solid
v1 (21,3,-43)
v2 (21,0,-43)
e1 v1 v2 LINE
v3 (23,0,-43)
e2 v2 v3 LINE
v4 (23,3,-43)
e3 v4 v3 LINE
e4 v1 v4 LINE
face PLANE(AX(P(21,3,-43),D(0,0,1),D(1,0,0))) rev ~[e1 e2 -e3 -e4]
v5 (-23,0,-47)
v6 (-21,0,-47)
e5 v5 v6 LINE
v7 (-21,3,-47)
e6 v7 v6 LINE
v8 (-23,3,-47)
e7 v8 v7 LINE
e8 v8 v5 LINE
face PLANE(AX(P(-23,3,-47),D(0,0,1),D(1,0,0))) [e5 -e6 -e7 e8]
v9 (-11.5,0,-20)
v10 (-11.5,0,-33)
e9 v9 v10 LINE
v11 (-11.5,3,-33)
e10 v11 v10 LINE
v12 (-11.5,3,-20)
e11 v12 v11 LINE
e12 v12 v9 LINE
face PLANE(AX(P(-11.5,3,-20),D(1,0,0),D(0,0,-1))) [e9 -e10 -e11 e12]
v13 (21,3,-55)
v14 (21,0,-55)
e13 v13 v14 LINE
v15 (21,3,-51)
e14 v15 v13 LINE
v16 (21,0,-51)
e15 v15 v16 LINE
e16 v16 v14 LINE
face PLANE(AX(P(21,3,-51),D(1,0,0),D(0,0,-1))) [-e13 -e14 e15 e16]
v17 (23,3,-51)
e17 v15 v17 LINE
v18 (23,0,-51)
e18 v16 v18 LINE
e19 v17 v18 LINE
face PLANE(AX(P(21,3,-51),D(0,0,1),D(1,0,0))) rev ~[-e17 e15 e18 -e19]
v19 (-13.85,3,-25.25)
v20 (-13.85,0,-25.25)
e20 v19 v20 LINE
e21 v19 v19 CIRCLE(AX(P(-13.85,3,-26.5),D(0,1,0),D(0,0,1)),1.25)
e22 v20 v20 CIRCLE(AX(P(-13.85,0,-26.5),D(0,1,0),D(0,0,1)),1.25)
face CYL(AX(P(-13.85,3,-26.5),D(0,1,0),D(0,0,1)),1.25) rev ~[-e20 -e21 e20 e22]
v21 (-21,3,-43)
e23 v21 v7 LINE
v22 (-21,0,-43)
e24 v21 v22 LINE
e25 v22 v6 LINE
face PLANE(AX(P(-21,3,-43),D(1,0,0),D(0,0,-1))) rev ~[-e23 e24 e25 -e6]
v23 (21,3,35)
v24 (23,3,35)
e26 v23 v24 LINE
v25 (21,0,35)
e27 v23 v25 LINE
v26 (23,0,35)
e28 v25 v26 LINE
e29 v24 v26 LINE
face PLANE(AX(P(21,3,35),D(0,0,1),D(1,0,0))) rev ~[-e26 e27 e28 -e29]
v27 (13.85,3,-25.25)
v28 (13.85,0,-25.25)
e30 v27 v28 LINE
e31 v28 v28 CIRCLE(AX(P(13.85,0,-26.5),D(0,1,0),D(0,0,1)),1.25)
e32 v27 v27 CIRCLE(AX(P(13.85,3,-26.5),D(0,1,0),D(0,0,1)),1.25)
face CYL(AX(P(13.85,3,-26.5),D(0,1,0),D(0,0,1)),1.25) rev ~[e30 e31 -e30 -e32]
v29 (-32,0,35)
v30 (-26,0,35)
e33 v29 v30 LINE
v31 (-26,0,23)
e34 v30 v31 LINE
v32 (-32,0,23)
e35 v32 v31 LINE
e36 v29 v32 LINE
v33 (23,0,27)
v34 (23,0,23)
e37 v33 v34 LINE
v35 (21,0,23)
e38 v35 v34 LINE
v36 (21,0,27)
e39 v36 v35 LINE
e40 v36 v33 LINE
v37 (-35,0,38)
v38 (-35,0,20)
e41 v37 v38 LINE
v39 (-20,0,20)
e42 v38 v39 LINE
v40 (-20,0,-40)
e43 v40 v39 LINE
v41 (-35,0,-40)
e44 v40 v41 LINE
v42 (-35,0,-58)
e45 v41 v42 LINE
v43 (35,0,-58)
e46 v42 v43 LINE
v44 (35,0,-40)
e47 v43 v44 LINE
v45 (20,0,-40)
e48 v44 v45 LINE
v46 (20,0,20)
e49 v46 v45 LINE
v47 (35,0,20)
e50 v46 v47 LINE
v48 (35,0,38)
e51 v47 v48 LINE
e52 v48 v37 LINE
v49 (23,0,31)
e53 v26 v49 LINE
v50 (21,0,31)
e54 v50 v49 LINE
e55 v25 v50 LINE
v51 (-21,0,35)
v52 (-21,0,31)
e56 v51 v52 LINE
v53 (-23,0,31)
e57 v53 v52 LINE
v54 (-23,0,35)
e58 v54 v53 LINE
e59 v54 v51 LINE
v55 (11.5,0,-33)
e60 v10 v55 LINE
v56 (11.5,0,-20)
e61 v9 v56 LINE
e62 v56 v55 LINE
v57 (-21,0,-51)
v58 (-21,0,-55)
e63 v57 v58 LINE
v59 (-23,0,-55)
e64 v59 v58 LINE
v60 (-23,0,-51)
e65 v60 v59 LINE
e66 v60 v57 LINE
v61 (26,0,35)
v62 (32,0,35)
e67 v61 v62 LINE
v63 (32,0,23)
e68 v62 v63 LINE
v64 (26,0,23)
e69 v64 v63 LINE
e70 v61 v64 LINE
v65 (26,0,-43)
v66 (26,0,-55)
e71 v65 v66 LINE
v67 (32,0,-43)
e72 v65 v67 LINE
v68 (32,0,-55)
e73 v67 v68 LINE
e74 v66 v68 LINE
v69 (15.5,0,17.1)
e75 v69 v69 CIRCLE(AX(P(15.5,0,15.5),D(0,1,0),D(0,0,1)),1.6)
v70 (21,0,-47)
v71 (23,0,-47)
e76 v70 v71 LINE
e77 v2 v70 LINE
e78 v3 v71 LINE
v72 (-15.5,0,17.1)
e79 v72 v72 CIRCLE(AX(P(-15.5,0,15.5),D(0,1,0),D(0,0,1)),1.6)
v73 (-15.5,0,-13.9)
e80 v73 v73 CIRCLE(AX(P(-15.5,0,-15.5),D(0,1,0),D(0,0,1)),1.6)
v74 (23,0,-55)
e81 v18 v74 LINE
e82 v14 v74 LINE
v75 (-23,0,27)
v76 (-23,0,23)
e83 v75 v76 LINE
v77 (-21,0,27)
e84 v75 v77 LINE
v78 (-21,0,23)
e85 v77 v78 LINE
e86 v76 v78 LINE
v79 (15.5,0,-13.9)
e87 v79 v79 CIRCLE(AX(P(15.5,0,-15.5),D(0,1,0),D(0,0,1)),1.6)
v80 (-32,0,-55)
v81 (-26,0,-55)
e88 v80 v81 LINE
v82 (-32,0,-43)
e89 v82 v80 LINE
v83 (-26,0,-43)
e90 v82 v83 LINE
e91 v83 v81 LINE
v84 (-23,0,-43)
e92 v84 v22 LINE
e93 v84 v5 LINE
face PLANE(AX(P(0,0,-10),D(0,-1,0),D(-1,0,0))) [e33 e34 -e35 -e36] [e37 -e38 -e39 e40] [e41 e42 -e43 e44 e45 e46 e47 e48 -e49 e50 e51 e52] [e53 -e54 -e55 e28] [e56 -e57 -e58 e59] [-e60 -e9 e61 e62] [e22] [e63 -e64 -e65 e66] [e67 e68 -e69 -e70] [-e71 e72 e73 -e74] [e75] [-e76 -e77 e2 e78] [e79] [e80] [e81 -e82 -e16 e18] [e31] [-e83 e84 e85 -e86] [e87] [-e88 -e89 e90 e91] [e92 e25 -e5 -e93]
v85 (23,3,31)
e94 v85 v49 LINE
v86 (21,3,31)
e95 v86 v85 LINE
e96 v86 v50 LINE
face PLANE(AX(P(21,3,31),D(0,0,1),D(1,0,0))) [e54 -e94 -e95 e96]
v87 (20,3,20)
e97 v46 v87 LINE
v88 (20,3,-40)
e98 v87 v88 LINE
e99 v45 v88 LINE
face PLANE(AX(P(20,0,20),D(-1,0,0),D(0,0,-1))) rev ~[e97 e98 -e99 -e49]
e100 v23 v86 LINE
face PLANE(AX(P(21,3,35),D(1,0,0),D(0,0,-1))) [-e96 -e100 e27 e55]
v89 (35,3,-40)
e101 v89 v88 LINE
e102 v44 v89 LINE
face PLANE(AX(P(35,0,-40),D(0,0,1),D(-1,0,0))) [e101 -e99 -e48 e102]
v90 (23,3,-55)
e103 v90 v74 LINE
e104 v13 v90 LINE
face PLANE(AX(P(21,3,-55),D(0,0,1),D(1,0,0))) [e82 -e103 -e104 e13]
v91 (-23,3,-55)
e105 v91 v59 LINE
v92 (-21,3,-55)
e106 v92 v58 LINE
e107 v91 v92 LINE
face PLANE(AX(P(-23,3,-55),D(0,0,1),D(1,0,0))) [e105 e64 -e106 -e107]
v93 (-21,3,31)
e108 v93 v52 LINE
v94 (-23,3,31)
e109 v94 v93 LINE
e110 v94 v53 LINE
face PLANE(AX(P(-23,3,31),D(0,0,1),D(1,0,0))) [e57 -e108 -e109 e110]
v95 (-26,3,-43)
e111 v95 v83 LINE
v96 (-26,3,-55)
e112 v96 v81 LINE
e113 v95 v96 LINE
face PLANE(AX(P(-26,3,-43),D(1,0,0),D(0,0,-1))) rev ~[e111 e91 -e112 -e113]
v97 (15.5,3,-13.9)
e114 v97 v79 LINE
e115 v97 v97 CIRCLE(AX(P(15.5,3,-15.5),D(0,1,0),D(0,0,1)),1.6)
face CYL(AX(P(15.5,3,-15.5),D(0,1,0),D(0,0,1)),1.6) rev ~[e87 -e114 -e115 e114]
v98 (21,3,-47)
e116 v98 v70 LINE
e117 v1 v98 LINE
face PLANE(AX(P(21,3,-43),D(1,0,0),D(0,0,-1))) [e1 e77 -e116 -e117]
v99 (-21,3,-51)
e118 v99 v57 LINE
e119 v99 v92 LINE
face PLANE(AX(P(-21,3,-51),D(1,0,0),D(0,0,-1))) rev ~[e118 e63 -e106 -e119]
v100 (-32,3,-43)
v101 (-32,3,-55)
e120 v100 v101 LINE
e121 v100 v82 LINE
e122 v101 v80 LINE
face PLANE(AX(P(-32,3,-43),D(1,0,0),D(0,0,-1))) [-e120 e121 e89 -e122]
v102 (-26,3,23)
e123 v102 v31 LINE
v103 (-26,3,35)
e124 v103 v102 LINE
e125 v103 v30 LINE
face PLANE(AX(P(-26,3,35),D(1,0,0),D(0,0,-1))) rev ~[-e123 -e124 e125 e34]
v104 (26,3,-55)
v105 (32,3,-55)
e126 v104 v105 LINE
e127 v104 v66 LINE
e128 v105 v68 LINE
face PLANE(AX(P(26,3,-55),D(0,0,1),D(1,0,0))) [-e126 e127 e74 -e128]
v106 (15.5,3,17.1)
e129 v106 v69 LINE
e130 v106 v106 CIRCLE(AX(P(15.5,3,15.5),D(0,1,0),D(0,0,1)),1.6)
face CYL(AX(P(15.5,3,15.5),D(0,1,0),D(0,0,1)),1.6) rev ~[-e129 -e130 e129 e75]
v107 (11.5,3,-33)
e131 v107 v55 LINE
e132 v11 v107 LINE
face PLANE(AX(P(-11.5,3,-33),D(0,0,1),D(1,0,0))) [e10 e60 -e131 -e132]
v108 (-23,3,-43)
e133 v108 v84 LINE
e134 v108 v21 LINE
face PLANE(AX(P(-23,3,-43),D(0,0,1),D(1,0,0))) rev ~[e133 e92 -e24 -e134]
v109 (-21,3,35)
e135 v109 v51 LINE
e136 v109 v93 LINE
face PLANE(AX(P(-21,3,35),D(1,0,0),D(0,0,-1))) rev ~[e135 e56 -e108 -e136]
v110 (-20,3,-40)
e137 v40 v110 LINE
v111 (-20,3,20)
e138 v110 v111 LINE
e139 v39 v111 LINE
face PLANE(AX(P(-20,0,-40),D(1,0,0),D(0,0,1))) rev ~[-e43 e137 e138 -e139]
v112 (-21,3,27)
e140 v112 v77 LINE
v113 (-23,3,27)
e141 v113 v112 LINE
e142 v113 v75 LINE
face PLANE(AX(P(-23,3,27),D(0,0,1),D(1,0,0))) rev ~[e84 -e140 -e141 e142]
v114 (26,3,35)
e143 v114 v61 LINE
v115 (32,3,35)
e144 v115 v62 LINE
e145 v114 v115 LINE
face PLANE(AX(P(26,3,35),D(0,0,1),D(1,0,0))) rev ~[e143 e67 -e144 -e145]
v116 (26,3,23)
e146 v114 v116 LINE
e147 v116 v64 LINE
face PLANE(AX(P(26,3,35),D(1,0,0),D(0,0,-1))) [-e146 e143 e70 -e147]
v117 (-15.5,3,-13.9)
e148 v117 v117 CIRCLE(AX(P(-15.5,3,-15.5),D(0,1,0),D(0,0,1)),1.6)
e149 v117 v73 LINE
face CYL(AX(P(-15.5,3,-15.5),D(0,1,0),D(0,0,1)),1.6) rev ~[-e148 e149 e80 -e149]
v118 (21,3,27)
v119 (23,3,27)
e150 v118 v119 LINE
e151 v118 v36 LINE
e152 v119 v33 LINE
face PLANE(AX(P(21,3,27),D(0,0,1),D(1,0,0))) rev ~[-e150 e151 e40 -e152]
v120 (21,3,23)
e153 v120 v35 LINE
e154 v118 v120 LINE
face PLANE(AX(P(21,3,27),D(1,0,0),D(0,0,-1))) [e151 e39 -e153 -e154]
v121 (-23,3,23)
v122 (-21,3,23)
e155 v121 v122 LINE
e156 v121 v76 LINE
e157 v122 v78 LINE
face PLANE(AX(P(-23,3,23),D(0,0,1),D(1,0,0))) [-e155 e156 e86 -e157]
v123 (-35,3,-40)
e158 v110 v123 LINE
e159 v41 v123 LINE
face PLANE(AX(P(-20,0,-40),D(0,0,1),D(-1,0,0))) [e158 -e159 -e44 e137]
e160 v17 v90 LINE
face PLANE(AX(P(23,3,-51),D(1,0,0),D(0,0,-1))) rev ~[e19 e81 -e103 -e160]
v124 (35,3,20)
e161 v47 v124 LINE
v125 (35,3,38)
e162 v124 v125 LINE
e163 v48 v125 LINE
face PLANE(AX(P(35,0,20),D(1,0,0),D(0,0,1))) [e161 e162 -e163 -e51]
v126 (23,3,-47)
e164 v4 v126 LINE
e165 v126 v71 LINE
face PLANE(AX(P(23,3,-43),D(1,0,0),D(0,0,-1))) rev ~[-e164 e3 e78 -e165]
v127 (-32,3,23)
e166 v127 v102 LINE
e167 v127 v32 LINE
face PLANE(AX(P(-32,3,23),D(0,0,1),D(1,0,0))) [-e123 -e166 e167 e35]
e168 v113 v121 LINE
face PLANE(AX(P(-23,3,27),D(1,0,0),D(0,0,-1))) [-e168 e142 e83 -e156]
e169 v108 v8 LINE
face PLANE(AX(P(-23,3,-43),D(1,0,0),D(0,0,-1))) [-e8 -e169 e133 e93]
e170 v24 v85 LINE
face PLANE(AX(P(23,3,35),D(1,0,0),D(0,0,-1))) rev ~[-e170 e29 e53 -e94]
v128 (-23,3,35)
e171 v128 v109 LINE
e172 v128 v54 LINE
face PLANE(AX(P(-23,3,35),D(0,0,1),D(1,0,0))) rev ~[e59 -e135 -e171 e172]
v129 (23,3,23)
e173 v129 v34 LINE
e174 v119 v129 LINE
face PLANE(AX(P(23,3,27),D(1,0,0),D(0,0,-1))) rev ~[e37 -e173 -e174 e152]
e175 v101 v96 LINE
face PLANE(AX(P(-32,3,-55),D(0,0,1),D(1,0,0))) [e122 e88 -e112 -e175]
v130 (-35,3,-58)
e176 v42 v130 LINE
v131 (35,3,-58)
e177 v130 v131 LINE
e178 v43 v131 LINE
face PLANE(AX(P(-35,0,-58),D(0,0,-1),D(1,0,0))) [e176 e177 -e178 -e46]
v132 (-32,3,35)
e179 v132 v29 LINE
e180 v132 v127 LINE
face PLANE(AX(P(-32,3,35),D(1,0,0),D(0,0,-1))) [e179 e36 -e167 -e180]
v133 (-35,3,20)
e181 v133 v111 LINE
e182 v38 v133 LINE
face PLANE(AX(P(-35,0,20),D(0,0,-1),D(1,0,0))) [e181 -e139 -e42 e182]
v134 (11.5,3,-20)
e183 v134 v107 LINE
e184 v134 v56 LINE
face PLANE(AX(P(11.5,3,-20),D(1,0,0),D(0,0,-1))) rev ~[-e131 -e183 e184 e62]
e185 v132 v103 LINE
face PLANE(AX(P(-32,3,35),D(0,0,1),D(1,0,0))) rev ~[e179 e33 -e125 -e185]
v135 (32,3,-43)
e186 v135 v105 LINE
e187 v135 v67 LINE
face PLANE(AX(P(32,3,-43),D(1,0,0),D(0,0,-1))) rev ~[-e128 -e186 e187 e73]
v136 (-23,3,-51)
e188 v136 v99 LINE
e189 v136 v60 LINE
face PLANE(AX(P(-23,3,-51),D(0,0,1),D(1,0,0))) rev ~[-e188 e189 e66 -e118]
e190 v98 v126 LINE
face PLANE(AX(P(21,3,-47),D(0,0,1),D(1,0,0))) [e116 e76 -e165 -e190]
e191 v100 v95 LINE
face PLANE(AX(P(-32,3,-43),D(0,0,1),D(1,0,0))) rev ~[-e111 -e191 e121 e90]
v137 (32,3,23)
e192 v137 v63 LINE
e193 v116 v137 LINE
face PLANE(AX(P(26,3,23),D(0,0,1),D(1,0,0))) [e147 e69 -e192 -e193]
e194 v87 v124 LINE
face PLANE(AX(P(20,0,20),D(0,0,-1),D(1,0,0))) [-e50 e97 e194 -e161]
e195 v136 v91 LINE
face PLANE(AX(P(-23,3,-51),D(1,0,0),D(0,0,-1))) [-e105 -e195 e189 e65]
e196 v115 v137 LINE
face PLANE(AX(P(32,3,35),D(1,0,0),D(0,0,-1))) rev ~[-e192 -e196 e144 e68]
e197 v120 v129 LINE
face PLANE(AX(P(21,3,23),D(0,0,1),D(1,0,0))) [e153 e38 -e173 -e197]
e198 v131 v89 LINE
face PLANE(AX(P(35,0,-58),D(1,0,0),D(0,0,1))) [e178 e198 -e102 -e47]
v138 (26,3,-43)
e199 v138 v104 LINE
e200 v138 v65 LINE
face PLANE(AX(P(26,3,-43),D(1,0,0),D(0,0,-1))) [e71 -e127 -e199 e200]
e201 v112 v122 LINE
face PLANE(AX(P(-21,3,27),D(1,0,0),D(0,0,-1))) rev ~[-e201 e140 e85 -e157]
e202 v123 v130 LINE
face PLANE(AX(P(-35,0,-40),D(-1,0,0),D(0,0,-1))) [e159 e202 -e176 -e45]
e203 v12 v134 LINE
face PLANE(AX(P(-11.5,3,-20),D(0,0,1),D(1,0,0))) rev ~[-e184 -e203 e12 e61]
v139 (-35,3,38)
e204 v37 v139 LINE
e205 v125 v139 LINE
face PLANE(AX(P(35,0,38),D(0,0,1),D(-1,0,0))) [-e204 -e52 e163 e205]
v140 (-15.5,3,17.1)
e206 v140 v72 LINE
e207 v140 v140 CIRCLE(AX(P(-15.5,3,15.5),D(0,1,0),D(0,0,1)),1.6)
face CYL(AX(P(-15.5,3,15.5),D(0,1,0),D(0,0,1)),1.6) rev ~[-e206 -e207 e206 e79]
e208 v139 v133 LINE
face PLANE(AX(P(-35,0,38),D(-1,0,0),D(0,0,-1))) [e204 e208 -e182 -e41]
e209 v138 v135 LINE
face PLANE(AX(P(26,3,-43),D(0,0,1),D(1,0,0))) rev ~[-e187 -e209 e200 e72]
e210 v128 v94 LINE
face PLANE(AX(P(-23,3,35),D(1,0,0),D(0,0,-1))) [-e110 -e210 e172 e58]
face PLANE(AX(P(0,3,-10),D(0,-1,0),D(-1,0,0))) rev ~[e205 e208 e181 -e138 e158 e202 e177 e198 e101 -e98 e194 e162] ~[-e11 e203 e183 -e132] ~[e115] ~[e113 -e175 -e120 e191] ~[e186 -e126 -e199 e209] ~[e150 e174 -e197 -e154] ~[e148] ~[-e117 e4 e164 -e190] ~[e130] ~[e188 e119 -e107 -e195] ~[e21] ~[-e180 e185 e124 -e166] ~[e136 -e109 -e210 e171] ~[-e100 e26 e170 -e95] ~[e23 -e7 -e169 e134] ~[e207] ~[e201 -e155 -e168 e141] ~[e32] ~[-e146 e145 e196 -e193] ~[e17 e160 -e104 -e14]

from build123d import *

# Parameters (mm, degrees)
EXTRUDE_1_DEPTH     = 3
CUT_EXTRUDE_1_REACH = 69.809
SKETCH_2_R          = 1.6
SKETCH_2_R_2        = 1.25
SKETCH_2_W          = 23
SKETCH_2_H          = 13
SKETCH_2_W_2        = 2
SKETCH_2_H_2        = 4
SKETCH_2_W_3        = 6
SKETCH_2_H_3        = 12


with BuildPart() as part:
    # 草图1 → 凸台-拉伸1 (new body)
    with BuildSketch(Plane(origin=(0, 0, 0), x_dir=(1, 0, 0), z_dir=(0, 1, 0))):
        Polygon((20, -20), (35, -20), (35, -38), (-35, -38), (-35, -20), (-20, -20), (-20, 20), (-20, 40), (-35, 40), (-35, 58), (35, 58), (35, 40), (20, 40), (20, 20), align=None)
    extrude(amount=EXTRUDE_1_DEPTH)

    # 草图2 → 切除-拉伸1 (cut, up to next)
    with BuildSketch(Plane(origin=(0, 3, 0), x_dir=(1, 0, 0), z_dir=(0, 1, 0)), mode=Mode.PRIVATE) as cut_extrude_1_sk1:
        with Locations(Location((-15.5, -15.5, 0), (0, 0, 270))):
            Circle(SKETCH_2_R)
    cut_extrude_1_tool1 = extrude(cut_extrude_1_sk1.sketch, amount=-CUT_EXTRUDE_1_REACH, mode=Mode.PRIVATE) & part.part
    # 草图2 → 切除-拉伸1 (cut, up to next)
    with BuildSketch(Plane(origin=(0, 3, 0), x_dir=(1, 0, 0), z_dir=(0, 1, 0)), mode=Mode.PRIVATE) as cut_extrude_1_sk2:
        with Locations(Location((-15.5, 15.5, 0), (0, 0, 270))):
            Circle(SKETCH_2_R)
    cut_extrude_1_tool2 = extrude(cut_extrude_1_sk2.sketch, amount=-CUT_EXTRUDE_1_REACH, mode=Mode.PRIVATE) & part.part
    # 草图2 → 切除-拉伸1 (cut, up to next)
    with BuildSketch(Plane(origin=(0, 3, 0), x_dir=(1, 0, 0), z_dir=(0, 1, 0)), mode=Mode.PRIVATE) as cut_extrude_1_sk3:
        with Locations(Location((15.5, -15.5, 0), (0, 0, 270))):
            Circle(SKETCH_2_R)
    cut_extrude_1_tool3 = extrude(cut_extrude_1_sk3.sketch, amount=-CUT_EXTRUDE_1_REACH, mode=Mode.PRIVATE) & part.part
    # 草图2 → 切除-拉伸1 (cut, up to next)
    with BuildSketch(Plane(origin=(0, 3, 0), x_dir=(1, 0, 0), z_dir=(0, 1, 0)), mode=Mode.PRIVATE) as cut_extrude_1_sk4:
        with Locations(Location((15.5, 15.5, 0), (0, 0, 270))):
            Circle(SKETCH_2_R)
    cut_extrude_1_tool4 = extrude(cut_extrude_1_sk4.sketch, amount=-CUT_EXTRUDE_1_REACH, mode=Mode.PRIVATE) & part.part
    # 草图2 → 切除-拉伸1 (cut, up to next)
    with BuildSketch(Plane(origin=(0, 3, 0), x_dir=(1, 0, 0), z_dir=(0, 1, 0)), mode=Mode.PRIVATE) as cut_extrude_1_sk5:
        with Locations(Location((-13.85, 26.5, 0), (0, 0, 270))):
            Circle(SKETCH_2_R_2)
    cut_extrude_1_tool5 = extrude(cut_extrude_1_sk5.sketch, amount=-CUT_EXTRUDE_1_REACH, mode=Mode.PRIVATE) & part.part
    # 草图2 → 切除-拉伸1 (cut, up to next)
    with BuildSketch(Plane(origin=(0, 3, 0), x_dir=(1, 0, 0), z_dir=(0, 1, 0)), mode=Mode.PRIVATE) as cut_extrude_1_sk6:
        with Locations(Location((13.85, 26.5, 0), (0, 0, 270))):
            Circle(SKETCH_2_R_2)
    cut_extrude_1_tool6 = extrude(cut_extrude_1_sk6.sketch, amount=-CUT_EXTRUDE_1_REACH, mode=Mode.PRIVATE) & part.part
    # 草图2 → 切除-拉伸1 (cut, up to next)
    with BuildSketch(Plane(origin=(0, 3, 0), x_dir=(1, 0, 0), z_dir=(0, 1, 0)), mode=Mode.PRIVATE) as cut_extrude_1_sk7:
        with Locations((0, 26.5)):
            Rectangle(SKETCH_2_W, SKETCH_2_H)
    cut_extrude_1_tool7 = extrude(cut_extrude_1_sk7.sketch, amount=-CUT_EXTRUDE_1_REACH, mode=Mode.PRIVATE) & part.part
    # 草图2 → 切除-拉伸1 (cut, up to next)
    with BuildSketch(Plane(origin=(0, 3, 0), x_dir=(1, 0, 0), z_dir=(0, 1, 0)), mode=Mode.PRIVATE) as cut_extrude_1_sk8:
        with Locations((-22, -33)):
            Rectangle(SKETCH_2_W_2, SKETCH_2_H_2)
    cut_extrude_1_tool8 = extrude(cut_extrude_1_sk8.sketch, amount=-CUT_EXTRUDE_1_REACH, mode=Mode.PRIVATE) & part.part
    # 草图2 → 切除-拉伸1 (cut, up to next)
    with BuildSketch(Plane(origin=(0, 3, 0), x_dir=(1, 0, 0), z_dir=(0, 1, 0)), mode=Mode.PRIVATE) as cut_extrude_1_sk9:
        with Locations((-29, -29)):
            Rectangle(SKETCH_2_W_3, SKETCH_2_H_3)
    cut_extrude_1_tool9 = extrude(cut_extrude_1_sk9.sketch, amount=-CUT_EXTRUDE_1_REACH, mode=Mode.PRIVATE) & part.part
    # 草图2 → 切除-拉伸1 (cut, up to next)
    with BuildSketch(Plane(origin=(0, 3, 0), x_dir=(1, 0, 0), z_dir=(0, 1, 0)), mode=Mode.PRIVATE) as cut_extrude_1_sk10:
        with Locations((-22, -25)):
            Rectangle(SKETCH_2_W_2, SKETCH_2_H_2)
    cut_extrude_1_tool10 = extrude(cut_extrude_1_sk10.sketch, amount=-CUT_EXTRUDE_1_REACH, mode=Mode.PRIVATE) & part.part
    # 草图2 → 切除-拉伸1 (cut, up to next)
    with BuildSketch(Plane(origin=(0, 3, 0), x_dir=(1, 0, 0), z_dir=(0, 1, 0)), mode=Mode.PRIVATE) as cut_extrude_1_sk11:
        with Locations((22, -33)):
            Rectangle(SKETCH_2_W_2, SKETCH_2_H_2)
    cut_extrude_1_tool11 = extrude(cut_extrude_1_sk11.sketch, amount=-CUT_EXTRUDE_1_REACH, mode=Mode.PRIVATE) & part.part
    # 草图2 → 切除-拉伸1 (cut, up to next)
    with BuildSketch(Plane(origin=(0, 3, 0), x_dir=(1, 0, 0), z_dir=(0, 1, 0)), mode=Mode.PRIVATE) as cut_extrude_1_sk12:
        with Locations((22, -25)):
            Rectangle(SKETCH_2_W_2, SKETCH_2_H_2)
    cut_extrude_1_tool12 = extrude(cut_extrude_1_sk12.sketch, amount=-CUT_EXTRUDE_1_REACH, mode=Mode.PRIVATE) & part.part
    # 草图2 → 切除-拉伸1 (cut, up to next)
    with BuildSketch(Plane(origin=(0, 3, 0), x_dir=(1, 0, 0), z_dir=(0, 1, 0)), mode=Mode.PRIVATE) as cut_extrude_1_sk13:
        with Locations((29, -29)):
            Rectangle(SKETCH_2_W_3, SKETCH_2_H_3)
    cut_extrude_1_tool13 = extrude(cut_extrude_1_sk13.sketch, amount=-CUT_EXTRUDE_1_REACH, mode=Mode.PRIVATE) & part.part
    # 草图2 → 切除-拉伸1 (cut, up to next)
    with BuildSketch(Plane(origin=(0, 3, 0), x_dir=(1, 0, 0), z_dir=(0, 1, 0)), mode=Mode.PRIVATE) as cut_extrude_1_sk14:
        with Locations((-22, 45)):
            Rectangle(SKETCH_2_W_2, SKETCH_2_H_2)
    cut_extrude_1_tool14 = extrude(cut_extrude_1_sk14.sketch, amount=-CUT_EXTRUDE_1_REACH, mode=Mode.PRIVATE) & part.part
    # 草图2 → 切除-拉伸1 (cut, up to next)
    with BuildSketch(Plane(origin=(0, 3, 0), x_dir=(1, 0, 0), z_dir=(0, 1, 0)), mode=Mode.PRIVATE) as cut_extrude_1_sk15:
        with Locations((-29, 49)):
            Rectangle(SKETCH_2_W_3, SKETCH_2_H_3)
    cut_extrude_1_tool15 = extrude(cut_extrude_1_sk15.sketch, amount=-CUT_EXTRUDE_1_REACH, mode=Mode.PRIVATE) & part.part
    # 草图2 → 切除-拉伸1 (cut, up to next)
    with BuildSketch(Plane(origin=(0, 3, 0), x_dir=(1, 0, 0), z_dir=(0, 1, 0)), mode=Mode.PRIVATE) as cut_extrude_1_sk16:
        with Locations((-22, 53)):
            Rectangle(SKETCH_2_W_2, SKETCH_2_H_2)
    cut_extrude_1_tool16 = extrude(cut_extrude_1_sk16.sketch, amount=-CUT_EXTRUDE_1_REACH, mode=Mode.PRIVATE) & part.part
    # 草图2 → 切除-拉伸1 (cut, up to next)
    with BuildSketch(Plane(origin=(0, 3, 0), x_dir=(1, 0, 0), z_dir=(0, 1, 0)), mode=Mode.PRIVATE) as cut_extrude_1_sk17:
        with Locations((22, 45)):
            Rectangle(SKETCH_2_W_2, SKETCH_2_H_2)
    cut_extrude_1_tool17 = extrude(cut_extrude_1_sk17.sketch, amount=-CUT_EXTRUDE_1_REACH, mode=Mode.PRIVATE) & part.part
    # 草图2 → 切除-拉伸1 (cut, up to next)
    with BuildSketch(Plane(origin=(0, 3, 0), x_dir=(1, 0, 0), z_dir=(0, 1, 0)), mode=Mode.PRIVATE) as cut_extrude_1_sk18:
        with Locations((22, 53)):
            Rectangle(SKETCH_2_W_2, SKETCH_2_H_2)
    cut_extrude_1_tool18 = extrude(cut_extrude_1_sk18.sketch, amount=-CUT_EXTRUDE_1_REACH, mode=Mode.PRIVATE) & part.part
    # 草图2 → 切除-拉伸1 (cut, up to next)
    with BuildSketch(Plane(origin=(0, 3, 0), x_dir=(1, 0, 0), z_dir=(0, 1, 0)), mode=Mode.PRIVATE) as cut_extrude_1_sk19:
        with Locations((29, 49)):
            Rectangle(SKETCH_2_W_3, SKETCH_2_H_3)
    cut_extrude_1_tool19 = extrude(cut_extrude_1_sk19.sketch, amount=-CUT_EXTRUDE_1_REACH, mode=Mode.PRIVATE) & part.part
    add(cut_extrude_1_tool1.solids().sort_by_distance((-15.5, 3, 15.5))[0], mode=Mode.SUBTRACT)
    add(cut_extrude_1_tool2.solids().sort_by_distance((-15.5, 3, -15.5))[0], mode=Mode.SUBTRACT)
    add(cut_extrude_1_tool3.solids().sort_by_distance((15.5, 3, 15.5))[0], mode=Mode.SUBTRACT)
    add(cut_extrude_1_tool4.solids().sort_by_distance((15.5, 3, -15.5))[0], mode=Mode.SUBTRACT)
    add(cut_extrude_1_tool5.solids().sort_by_distance((-13.85, 3, -26.5))[0], mode=Mode.SUBTRACT)
    add(cut_extrude_1_tool6.solids().sort_by_distance((13.85, 3, -26.5))[0], mode=Mode.SUBTRACT)
    add(cut_extrude_1_tool7.solids().sort_by_distance((0, 3, -26.5))[0], mode=Mode.SUBTRACT)
    add(cut_extrude_1_tool8.solids().sort_by_distance((-22, 3, 33))[0], mode=Mode.SUBTRACT)
    add(cut_extrude_1_tool9.solids().sort_by_distance((-29, 3, 29))[0], mode=Mode.SUBTRACT)
    add(cut_extrude_1_tool10.solids().sort_by_distance((-22, 3, 25))[0], mode=Mode.SUBTRACT)
    add(cut_extrude_1_tool11.solids().sort_by_distance((22, 3, 33))[0], mode=Mode.SUBTRACT)
    add(cut_extrude_1_tool12.solids().sort_by_distance((22, 3, 25))[0], mode=Mode.SUBTRACT)
    add(cut_extrude_1_tool13.solids().sort_by_distance((29, 3, 29))[0], mode=Mode.SUBTRACT)
    add(cut_extrude_1_tool14.solids().sort_by_distance((-22, 3, -45))[0], mode=Mode.SUBTRACT)
    add(cut_extrude_1_tool15.solids().sort_by_distance((-29, 3, -49))[0], mode=Mode.SUBTRACT)
    add(cut_extrude_1_tool16.solids().sort_by_distance((-22, 3, -53))[0], mode=Mode.SUBTRACT)
    add(cut_extrude_1_tool17.solids().sort_by_distance((22, 3, -45))[0], mode=Mode.SUBTRACT)
    add(cut_extrude_1_tool18.solids().sort_by_distance((22, 3, -53))[0], mode=Mode.SUBTRACT)
    add(cut_extrude_1_tool19.solids().sort_by_distance((29, 3, -49))[0], mode=Mode.SUBTRACT)


solid = part.part
